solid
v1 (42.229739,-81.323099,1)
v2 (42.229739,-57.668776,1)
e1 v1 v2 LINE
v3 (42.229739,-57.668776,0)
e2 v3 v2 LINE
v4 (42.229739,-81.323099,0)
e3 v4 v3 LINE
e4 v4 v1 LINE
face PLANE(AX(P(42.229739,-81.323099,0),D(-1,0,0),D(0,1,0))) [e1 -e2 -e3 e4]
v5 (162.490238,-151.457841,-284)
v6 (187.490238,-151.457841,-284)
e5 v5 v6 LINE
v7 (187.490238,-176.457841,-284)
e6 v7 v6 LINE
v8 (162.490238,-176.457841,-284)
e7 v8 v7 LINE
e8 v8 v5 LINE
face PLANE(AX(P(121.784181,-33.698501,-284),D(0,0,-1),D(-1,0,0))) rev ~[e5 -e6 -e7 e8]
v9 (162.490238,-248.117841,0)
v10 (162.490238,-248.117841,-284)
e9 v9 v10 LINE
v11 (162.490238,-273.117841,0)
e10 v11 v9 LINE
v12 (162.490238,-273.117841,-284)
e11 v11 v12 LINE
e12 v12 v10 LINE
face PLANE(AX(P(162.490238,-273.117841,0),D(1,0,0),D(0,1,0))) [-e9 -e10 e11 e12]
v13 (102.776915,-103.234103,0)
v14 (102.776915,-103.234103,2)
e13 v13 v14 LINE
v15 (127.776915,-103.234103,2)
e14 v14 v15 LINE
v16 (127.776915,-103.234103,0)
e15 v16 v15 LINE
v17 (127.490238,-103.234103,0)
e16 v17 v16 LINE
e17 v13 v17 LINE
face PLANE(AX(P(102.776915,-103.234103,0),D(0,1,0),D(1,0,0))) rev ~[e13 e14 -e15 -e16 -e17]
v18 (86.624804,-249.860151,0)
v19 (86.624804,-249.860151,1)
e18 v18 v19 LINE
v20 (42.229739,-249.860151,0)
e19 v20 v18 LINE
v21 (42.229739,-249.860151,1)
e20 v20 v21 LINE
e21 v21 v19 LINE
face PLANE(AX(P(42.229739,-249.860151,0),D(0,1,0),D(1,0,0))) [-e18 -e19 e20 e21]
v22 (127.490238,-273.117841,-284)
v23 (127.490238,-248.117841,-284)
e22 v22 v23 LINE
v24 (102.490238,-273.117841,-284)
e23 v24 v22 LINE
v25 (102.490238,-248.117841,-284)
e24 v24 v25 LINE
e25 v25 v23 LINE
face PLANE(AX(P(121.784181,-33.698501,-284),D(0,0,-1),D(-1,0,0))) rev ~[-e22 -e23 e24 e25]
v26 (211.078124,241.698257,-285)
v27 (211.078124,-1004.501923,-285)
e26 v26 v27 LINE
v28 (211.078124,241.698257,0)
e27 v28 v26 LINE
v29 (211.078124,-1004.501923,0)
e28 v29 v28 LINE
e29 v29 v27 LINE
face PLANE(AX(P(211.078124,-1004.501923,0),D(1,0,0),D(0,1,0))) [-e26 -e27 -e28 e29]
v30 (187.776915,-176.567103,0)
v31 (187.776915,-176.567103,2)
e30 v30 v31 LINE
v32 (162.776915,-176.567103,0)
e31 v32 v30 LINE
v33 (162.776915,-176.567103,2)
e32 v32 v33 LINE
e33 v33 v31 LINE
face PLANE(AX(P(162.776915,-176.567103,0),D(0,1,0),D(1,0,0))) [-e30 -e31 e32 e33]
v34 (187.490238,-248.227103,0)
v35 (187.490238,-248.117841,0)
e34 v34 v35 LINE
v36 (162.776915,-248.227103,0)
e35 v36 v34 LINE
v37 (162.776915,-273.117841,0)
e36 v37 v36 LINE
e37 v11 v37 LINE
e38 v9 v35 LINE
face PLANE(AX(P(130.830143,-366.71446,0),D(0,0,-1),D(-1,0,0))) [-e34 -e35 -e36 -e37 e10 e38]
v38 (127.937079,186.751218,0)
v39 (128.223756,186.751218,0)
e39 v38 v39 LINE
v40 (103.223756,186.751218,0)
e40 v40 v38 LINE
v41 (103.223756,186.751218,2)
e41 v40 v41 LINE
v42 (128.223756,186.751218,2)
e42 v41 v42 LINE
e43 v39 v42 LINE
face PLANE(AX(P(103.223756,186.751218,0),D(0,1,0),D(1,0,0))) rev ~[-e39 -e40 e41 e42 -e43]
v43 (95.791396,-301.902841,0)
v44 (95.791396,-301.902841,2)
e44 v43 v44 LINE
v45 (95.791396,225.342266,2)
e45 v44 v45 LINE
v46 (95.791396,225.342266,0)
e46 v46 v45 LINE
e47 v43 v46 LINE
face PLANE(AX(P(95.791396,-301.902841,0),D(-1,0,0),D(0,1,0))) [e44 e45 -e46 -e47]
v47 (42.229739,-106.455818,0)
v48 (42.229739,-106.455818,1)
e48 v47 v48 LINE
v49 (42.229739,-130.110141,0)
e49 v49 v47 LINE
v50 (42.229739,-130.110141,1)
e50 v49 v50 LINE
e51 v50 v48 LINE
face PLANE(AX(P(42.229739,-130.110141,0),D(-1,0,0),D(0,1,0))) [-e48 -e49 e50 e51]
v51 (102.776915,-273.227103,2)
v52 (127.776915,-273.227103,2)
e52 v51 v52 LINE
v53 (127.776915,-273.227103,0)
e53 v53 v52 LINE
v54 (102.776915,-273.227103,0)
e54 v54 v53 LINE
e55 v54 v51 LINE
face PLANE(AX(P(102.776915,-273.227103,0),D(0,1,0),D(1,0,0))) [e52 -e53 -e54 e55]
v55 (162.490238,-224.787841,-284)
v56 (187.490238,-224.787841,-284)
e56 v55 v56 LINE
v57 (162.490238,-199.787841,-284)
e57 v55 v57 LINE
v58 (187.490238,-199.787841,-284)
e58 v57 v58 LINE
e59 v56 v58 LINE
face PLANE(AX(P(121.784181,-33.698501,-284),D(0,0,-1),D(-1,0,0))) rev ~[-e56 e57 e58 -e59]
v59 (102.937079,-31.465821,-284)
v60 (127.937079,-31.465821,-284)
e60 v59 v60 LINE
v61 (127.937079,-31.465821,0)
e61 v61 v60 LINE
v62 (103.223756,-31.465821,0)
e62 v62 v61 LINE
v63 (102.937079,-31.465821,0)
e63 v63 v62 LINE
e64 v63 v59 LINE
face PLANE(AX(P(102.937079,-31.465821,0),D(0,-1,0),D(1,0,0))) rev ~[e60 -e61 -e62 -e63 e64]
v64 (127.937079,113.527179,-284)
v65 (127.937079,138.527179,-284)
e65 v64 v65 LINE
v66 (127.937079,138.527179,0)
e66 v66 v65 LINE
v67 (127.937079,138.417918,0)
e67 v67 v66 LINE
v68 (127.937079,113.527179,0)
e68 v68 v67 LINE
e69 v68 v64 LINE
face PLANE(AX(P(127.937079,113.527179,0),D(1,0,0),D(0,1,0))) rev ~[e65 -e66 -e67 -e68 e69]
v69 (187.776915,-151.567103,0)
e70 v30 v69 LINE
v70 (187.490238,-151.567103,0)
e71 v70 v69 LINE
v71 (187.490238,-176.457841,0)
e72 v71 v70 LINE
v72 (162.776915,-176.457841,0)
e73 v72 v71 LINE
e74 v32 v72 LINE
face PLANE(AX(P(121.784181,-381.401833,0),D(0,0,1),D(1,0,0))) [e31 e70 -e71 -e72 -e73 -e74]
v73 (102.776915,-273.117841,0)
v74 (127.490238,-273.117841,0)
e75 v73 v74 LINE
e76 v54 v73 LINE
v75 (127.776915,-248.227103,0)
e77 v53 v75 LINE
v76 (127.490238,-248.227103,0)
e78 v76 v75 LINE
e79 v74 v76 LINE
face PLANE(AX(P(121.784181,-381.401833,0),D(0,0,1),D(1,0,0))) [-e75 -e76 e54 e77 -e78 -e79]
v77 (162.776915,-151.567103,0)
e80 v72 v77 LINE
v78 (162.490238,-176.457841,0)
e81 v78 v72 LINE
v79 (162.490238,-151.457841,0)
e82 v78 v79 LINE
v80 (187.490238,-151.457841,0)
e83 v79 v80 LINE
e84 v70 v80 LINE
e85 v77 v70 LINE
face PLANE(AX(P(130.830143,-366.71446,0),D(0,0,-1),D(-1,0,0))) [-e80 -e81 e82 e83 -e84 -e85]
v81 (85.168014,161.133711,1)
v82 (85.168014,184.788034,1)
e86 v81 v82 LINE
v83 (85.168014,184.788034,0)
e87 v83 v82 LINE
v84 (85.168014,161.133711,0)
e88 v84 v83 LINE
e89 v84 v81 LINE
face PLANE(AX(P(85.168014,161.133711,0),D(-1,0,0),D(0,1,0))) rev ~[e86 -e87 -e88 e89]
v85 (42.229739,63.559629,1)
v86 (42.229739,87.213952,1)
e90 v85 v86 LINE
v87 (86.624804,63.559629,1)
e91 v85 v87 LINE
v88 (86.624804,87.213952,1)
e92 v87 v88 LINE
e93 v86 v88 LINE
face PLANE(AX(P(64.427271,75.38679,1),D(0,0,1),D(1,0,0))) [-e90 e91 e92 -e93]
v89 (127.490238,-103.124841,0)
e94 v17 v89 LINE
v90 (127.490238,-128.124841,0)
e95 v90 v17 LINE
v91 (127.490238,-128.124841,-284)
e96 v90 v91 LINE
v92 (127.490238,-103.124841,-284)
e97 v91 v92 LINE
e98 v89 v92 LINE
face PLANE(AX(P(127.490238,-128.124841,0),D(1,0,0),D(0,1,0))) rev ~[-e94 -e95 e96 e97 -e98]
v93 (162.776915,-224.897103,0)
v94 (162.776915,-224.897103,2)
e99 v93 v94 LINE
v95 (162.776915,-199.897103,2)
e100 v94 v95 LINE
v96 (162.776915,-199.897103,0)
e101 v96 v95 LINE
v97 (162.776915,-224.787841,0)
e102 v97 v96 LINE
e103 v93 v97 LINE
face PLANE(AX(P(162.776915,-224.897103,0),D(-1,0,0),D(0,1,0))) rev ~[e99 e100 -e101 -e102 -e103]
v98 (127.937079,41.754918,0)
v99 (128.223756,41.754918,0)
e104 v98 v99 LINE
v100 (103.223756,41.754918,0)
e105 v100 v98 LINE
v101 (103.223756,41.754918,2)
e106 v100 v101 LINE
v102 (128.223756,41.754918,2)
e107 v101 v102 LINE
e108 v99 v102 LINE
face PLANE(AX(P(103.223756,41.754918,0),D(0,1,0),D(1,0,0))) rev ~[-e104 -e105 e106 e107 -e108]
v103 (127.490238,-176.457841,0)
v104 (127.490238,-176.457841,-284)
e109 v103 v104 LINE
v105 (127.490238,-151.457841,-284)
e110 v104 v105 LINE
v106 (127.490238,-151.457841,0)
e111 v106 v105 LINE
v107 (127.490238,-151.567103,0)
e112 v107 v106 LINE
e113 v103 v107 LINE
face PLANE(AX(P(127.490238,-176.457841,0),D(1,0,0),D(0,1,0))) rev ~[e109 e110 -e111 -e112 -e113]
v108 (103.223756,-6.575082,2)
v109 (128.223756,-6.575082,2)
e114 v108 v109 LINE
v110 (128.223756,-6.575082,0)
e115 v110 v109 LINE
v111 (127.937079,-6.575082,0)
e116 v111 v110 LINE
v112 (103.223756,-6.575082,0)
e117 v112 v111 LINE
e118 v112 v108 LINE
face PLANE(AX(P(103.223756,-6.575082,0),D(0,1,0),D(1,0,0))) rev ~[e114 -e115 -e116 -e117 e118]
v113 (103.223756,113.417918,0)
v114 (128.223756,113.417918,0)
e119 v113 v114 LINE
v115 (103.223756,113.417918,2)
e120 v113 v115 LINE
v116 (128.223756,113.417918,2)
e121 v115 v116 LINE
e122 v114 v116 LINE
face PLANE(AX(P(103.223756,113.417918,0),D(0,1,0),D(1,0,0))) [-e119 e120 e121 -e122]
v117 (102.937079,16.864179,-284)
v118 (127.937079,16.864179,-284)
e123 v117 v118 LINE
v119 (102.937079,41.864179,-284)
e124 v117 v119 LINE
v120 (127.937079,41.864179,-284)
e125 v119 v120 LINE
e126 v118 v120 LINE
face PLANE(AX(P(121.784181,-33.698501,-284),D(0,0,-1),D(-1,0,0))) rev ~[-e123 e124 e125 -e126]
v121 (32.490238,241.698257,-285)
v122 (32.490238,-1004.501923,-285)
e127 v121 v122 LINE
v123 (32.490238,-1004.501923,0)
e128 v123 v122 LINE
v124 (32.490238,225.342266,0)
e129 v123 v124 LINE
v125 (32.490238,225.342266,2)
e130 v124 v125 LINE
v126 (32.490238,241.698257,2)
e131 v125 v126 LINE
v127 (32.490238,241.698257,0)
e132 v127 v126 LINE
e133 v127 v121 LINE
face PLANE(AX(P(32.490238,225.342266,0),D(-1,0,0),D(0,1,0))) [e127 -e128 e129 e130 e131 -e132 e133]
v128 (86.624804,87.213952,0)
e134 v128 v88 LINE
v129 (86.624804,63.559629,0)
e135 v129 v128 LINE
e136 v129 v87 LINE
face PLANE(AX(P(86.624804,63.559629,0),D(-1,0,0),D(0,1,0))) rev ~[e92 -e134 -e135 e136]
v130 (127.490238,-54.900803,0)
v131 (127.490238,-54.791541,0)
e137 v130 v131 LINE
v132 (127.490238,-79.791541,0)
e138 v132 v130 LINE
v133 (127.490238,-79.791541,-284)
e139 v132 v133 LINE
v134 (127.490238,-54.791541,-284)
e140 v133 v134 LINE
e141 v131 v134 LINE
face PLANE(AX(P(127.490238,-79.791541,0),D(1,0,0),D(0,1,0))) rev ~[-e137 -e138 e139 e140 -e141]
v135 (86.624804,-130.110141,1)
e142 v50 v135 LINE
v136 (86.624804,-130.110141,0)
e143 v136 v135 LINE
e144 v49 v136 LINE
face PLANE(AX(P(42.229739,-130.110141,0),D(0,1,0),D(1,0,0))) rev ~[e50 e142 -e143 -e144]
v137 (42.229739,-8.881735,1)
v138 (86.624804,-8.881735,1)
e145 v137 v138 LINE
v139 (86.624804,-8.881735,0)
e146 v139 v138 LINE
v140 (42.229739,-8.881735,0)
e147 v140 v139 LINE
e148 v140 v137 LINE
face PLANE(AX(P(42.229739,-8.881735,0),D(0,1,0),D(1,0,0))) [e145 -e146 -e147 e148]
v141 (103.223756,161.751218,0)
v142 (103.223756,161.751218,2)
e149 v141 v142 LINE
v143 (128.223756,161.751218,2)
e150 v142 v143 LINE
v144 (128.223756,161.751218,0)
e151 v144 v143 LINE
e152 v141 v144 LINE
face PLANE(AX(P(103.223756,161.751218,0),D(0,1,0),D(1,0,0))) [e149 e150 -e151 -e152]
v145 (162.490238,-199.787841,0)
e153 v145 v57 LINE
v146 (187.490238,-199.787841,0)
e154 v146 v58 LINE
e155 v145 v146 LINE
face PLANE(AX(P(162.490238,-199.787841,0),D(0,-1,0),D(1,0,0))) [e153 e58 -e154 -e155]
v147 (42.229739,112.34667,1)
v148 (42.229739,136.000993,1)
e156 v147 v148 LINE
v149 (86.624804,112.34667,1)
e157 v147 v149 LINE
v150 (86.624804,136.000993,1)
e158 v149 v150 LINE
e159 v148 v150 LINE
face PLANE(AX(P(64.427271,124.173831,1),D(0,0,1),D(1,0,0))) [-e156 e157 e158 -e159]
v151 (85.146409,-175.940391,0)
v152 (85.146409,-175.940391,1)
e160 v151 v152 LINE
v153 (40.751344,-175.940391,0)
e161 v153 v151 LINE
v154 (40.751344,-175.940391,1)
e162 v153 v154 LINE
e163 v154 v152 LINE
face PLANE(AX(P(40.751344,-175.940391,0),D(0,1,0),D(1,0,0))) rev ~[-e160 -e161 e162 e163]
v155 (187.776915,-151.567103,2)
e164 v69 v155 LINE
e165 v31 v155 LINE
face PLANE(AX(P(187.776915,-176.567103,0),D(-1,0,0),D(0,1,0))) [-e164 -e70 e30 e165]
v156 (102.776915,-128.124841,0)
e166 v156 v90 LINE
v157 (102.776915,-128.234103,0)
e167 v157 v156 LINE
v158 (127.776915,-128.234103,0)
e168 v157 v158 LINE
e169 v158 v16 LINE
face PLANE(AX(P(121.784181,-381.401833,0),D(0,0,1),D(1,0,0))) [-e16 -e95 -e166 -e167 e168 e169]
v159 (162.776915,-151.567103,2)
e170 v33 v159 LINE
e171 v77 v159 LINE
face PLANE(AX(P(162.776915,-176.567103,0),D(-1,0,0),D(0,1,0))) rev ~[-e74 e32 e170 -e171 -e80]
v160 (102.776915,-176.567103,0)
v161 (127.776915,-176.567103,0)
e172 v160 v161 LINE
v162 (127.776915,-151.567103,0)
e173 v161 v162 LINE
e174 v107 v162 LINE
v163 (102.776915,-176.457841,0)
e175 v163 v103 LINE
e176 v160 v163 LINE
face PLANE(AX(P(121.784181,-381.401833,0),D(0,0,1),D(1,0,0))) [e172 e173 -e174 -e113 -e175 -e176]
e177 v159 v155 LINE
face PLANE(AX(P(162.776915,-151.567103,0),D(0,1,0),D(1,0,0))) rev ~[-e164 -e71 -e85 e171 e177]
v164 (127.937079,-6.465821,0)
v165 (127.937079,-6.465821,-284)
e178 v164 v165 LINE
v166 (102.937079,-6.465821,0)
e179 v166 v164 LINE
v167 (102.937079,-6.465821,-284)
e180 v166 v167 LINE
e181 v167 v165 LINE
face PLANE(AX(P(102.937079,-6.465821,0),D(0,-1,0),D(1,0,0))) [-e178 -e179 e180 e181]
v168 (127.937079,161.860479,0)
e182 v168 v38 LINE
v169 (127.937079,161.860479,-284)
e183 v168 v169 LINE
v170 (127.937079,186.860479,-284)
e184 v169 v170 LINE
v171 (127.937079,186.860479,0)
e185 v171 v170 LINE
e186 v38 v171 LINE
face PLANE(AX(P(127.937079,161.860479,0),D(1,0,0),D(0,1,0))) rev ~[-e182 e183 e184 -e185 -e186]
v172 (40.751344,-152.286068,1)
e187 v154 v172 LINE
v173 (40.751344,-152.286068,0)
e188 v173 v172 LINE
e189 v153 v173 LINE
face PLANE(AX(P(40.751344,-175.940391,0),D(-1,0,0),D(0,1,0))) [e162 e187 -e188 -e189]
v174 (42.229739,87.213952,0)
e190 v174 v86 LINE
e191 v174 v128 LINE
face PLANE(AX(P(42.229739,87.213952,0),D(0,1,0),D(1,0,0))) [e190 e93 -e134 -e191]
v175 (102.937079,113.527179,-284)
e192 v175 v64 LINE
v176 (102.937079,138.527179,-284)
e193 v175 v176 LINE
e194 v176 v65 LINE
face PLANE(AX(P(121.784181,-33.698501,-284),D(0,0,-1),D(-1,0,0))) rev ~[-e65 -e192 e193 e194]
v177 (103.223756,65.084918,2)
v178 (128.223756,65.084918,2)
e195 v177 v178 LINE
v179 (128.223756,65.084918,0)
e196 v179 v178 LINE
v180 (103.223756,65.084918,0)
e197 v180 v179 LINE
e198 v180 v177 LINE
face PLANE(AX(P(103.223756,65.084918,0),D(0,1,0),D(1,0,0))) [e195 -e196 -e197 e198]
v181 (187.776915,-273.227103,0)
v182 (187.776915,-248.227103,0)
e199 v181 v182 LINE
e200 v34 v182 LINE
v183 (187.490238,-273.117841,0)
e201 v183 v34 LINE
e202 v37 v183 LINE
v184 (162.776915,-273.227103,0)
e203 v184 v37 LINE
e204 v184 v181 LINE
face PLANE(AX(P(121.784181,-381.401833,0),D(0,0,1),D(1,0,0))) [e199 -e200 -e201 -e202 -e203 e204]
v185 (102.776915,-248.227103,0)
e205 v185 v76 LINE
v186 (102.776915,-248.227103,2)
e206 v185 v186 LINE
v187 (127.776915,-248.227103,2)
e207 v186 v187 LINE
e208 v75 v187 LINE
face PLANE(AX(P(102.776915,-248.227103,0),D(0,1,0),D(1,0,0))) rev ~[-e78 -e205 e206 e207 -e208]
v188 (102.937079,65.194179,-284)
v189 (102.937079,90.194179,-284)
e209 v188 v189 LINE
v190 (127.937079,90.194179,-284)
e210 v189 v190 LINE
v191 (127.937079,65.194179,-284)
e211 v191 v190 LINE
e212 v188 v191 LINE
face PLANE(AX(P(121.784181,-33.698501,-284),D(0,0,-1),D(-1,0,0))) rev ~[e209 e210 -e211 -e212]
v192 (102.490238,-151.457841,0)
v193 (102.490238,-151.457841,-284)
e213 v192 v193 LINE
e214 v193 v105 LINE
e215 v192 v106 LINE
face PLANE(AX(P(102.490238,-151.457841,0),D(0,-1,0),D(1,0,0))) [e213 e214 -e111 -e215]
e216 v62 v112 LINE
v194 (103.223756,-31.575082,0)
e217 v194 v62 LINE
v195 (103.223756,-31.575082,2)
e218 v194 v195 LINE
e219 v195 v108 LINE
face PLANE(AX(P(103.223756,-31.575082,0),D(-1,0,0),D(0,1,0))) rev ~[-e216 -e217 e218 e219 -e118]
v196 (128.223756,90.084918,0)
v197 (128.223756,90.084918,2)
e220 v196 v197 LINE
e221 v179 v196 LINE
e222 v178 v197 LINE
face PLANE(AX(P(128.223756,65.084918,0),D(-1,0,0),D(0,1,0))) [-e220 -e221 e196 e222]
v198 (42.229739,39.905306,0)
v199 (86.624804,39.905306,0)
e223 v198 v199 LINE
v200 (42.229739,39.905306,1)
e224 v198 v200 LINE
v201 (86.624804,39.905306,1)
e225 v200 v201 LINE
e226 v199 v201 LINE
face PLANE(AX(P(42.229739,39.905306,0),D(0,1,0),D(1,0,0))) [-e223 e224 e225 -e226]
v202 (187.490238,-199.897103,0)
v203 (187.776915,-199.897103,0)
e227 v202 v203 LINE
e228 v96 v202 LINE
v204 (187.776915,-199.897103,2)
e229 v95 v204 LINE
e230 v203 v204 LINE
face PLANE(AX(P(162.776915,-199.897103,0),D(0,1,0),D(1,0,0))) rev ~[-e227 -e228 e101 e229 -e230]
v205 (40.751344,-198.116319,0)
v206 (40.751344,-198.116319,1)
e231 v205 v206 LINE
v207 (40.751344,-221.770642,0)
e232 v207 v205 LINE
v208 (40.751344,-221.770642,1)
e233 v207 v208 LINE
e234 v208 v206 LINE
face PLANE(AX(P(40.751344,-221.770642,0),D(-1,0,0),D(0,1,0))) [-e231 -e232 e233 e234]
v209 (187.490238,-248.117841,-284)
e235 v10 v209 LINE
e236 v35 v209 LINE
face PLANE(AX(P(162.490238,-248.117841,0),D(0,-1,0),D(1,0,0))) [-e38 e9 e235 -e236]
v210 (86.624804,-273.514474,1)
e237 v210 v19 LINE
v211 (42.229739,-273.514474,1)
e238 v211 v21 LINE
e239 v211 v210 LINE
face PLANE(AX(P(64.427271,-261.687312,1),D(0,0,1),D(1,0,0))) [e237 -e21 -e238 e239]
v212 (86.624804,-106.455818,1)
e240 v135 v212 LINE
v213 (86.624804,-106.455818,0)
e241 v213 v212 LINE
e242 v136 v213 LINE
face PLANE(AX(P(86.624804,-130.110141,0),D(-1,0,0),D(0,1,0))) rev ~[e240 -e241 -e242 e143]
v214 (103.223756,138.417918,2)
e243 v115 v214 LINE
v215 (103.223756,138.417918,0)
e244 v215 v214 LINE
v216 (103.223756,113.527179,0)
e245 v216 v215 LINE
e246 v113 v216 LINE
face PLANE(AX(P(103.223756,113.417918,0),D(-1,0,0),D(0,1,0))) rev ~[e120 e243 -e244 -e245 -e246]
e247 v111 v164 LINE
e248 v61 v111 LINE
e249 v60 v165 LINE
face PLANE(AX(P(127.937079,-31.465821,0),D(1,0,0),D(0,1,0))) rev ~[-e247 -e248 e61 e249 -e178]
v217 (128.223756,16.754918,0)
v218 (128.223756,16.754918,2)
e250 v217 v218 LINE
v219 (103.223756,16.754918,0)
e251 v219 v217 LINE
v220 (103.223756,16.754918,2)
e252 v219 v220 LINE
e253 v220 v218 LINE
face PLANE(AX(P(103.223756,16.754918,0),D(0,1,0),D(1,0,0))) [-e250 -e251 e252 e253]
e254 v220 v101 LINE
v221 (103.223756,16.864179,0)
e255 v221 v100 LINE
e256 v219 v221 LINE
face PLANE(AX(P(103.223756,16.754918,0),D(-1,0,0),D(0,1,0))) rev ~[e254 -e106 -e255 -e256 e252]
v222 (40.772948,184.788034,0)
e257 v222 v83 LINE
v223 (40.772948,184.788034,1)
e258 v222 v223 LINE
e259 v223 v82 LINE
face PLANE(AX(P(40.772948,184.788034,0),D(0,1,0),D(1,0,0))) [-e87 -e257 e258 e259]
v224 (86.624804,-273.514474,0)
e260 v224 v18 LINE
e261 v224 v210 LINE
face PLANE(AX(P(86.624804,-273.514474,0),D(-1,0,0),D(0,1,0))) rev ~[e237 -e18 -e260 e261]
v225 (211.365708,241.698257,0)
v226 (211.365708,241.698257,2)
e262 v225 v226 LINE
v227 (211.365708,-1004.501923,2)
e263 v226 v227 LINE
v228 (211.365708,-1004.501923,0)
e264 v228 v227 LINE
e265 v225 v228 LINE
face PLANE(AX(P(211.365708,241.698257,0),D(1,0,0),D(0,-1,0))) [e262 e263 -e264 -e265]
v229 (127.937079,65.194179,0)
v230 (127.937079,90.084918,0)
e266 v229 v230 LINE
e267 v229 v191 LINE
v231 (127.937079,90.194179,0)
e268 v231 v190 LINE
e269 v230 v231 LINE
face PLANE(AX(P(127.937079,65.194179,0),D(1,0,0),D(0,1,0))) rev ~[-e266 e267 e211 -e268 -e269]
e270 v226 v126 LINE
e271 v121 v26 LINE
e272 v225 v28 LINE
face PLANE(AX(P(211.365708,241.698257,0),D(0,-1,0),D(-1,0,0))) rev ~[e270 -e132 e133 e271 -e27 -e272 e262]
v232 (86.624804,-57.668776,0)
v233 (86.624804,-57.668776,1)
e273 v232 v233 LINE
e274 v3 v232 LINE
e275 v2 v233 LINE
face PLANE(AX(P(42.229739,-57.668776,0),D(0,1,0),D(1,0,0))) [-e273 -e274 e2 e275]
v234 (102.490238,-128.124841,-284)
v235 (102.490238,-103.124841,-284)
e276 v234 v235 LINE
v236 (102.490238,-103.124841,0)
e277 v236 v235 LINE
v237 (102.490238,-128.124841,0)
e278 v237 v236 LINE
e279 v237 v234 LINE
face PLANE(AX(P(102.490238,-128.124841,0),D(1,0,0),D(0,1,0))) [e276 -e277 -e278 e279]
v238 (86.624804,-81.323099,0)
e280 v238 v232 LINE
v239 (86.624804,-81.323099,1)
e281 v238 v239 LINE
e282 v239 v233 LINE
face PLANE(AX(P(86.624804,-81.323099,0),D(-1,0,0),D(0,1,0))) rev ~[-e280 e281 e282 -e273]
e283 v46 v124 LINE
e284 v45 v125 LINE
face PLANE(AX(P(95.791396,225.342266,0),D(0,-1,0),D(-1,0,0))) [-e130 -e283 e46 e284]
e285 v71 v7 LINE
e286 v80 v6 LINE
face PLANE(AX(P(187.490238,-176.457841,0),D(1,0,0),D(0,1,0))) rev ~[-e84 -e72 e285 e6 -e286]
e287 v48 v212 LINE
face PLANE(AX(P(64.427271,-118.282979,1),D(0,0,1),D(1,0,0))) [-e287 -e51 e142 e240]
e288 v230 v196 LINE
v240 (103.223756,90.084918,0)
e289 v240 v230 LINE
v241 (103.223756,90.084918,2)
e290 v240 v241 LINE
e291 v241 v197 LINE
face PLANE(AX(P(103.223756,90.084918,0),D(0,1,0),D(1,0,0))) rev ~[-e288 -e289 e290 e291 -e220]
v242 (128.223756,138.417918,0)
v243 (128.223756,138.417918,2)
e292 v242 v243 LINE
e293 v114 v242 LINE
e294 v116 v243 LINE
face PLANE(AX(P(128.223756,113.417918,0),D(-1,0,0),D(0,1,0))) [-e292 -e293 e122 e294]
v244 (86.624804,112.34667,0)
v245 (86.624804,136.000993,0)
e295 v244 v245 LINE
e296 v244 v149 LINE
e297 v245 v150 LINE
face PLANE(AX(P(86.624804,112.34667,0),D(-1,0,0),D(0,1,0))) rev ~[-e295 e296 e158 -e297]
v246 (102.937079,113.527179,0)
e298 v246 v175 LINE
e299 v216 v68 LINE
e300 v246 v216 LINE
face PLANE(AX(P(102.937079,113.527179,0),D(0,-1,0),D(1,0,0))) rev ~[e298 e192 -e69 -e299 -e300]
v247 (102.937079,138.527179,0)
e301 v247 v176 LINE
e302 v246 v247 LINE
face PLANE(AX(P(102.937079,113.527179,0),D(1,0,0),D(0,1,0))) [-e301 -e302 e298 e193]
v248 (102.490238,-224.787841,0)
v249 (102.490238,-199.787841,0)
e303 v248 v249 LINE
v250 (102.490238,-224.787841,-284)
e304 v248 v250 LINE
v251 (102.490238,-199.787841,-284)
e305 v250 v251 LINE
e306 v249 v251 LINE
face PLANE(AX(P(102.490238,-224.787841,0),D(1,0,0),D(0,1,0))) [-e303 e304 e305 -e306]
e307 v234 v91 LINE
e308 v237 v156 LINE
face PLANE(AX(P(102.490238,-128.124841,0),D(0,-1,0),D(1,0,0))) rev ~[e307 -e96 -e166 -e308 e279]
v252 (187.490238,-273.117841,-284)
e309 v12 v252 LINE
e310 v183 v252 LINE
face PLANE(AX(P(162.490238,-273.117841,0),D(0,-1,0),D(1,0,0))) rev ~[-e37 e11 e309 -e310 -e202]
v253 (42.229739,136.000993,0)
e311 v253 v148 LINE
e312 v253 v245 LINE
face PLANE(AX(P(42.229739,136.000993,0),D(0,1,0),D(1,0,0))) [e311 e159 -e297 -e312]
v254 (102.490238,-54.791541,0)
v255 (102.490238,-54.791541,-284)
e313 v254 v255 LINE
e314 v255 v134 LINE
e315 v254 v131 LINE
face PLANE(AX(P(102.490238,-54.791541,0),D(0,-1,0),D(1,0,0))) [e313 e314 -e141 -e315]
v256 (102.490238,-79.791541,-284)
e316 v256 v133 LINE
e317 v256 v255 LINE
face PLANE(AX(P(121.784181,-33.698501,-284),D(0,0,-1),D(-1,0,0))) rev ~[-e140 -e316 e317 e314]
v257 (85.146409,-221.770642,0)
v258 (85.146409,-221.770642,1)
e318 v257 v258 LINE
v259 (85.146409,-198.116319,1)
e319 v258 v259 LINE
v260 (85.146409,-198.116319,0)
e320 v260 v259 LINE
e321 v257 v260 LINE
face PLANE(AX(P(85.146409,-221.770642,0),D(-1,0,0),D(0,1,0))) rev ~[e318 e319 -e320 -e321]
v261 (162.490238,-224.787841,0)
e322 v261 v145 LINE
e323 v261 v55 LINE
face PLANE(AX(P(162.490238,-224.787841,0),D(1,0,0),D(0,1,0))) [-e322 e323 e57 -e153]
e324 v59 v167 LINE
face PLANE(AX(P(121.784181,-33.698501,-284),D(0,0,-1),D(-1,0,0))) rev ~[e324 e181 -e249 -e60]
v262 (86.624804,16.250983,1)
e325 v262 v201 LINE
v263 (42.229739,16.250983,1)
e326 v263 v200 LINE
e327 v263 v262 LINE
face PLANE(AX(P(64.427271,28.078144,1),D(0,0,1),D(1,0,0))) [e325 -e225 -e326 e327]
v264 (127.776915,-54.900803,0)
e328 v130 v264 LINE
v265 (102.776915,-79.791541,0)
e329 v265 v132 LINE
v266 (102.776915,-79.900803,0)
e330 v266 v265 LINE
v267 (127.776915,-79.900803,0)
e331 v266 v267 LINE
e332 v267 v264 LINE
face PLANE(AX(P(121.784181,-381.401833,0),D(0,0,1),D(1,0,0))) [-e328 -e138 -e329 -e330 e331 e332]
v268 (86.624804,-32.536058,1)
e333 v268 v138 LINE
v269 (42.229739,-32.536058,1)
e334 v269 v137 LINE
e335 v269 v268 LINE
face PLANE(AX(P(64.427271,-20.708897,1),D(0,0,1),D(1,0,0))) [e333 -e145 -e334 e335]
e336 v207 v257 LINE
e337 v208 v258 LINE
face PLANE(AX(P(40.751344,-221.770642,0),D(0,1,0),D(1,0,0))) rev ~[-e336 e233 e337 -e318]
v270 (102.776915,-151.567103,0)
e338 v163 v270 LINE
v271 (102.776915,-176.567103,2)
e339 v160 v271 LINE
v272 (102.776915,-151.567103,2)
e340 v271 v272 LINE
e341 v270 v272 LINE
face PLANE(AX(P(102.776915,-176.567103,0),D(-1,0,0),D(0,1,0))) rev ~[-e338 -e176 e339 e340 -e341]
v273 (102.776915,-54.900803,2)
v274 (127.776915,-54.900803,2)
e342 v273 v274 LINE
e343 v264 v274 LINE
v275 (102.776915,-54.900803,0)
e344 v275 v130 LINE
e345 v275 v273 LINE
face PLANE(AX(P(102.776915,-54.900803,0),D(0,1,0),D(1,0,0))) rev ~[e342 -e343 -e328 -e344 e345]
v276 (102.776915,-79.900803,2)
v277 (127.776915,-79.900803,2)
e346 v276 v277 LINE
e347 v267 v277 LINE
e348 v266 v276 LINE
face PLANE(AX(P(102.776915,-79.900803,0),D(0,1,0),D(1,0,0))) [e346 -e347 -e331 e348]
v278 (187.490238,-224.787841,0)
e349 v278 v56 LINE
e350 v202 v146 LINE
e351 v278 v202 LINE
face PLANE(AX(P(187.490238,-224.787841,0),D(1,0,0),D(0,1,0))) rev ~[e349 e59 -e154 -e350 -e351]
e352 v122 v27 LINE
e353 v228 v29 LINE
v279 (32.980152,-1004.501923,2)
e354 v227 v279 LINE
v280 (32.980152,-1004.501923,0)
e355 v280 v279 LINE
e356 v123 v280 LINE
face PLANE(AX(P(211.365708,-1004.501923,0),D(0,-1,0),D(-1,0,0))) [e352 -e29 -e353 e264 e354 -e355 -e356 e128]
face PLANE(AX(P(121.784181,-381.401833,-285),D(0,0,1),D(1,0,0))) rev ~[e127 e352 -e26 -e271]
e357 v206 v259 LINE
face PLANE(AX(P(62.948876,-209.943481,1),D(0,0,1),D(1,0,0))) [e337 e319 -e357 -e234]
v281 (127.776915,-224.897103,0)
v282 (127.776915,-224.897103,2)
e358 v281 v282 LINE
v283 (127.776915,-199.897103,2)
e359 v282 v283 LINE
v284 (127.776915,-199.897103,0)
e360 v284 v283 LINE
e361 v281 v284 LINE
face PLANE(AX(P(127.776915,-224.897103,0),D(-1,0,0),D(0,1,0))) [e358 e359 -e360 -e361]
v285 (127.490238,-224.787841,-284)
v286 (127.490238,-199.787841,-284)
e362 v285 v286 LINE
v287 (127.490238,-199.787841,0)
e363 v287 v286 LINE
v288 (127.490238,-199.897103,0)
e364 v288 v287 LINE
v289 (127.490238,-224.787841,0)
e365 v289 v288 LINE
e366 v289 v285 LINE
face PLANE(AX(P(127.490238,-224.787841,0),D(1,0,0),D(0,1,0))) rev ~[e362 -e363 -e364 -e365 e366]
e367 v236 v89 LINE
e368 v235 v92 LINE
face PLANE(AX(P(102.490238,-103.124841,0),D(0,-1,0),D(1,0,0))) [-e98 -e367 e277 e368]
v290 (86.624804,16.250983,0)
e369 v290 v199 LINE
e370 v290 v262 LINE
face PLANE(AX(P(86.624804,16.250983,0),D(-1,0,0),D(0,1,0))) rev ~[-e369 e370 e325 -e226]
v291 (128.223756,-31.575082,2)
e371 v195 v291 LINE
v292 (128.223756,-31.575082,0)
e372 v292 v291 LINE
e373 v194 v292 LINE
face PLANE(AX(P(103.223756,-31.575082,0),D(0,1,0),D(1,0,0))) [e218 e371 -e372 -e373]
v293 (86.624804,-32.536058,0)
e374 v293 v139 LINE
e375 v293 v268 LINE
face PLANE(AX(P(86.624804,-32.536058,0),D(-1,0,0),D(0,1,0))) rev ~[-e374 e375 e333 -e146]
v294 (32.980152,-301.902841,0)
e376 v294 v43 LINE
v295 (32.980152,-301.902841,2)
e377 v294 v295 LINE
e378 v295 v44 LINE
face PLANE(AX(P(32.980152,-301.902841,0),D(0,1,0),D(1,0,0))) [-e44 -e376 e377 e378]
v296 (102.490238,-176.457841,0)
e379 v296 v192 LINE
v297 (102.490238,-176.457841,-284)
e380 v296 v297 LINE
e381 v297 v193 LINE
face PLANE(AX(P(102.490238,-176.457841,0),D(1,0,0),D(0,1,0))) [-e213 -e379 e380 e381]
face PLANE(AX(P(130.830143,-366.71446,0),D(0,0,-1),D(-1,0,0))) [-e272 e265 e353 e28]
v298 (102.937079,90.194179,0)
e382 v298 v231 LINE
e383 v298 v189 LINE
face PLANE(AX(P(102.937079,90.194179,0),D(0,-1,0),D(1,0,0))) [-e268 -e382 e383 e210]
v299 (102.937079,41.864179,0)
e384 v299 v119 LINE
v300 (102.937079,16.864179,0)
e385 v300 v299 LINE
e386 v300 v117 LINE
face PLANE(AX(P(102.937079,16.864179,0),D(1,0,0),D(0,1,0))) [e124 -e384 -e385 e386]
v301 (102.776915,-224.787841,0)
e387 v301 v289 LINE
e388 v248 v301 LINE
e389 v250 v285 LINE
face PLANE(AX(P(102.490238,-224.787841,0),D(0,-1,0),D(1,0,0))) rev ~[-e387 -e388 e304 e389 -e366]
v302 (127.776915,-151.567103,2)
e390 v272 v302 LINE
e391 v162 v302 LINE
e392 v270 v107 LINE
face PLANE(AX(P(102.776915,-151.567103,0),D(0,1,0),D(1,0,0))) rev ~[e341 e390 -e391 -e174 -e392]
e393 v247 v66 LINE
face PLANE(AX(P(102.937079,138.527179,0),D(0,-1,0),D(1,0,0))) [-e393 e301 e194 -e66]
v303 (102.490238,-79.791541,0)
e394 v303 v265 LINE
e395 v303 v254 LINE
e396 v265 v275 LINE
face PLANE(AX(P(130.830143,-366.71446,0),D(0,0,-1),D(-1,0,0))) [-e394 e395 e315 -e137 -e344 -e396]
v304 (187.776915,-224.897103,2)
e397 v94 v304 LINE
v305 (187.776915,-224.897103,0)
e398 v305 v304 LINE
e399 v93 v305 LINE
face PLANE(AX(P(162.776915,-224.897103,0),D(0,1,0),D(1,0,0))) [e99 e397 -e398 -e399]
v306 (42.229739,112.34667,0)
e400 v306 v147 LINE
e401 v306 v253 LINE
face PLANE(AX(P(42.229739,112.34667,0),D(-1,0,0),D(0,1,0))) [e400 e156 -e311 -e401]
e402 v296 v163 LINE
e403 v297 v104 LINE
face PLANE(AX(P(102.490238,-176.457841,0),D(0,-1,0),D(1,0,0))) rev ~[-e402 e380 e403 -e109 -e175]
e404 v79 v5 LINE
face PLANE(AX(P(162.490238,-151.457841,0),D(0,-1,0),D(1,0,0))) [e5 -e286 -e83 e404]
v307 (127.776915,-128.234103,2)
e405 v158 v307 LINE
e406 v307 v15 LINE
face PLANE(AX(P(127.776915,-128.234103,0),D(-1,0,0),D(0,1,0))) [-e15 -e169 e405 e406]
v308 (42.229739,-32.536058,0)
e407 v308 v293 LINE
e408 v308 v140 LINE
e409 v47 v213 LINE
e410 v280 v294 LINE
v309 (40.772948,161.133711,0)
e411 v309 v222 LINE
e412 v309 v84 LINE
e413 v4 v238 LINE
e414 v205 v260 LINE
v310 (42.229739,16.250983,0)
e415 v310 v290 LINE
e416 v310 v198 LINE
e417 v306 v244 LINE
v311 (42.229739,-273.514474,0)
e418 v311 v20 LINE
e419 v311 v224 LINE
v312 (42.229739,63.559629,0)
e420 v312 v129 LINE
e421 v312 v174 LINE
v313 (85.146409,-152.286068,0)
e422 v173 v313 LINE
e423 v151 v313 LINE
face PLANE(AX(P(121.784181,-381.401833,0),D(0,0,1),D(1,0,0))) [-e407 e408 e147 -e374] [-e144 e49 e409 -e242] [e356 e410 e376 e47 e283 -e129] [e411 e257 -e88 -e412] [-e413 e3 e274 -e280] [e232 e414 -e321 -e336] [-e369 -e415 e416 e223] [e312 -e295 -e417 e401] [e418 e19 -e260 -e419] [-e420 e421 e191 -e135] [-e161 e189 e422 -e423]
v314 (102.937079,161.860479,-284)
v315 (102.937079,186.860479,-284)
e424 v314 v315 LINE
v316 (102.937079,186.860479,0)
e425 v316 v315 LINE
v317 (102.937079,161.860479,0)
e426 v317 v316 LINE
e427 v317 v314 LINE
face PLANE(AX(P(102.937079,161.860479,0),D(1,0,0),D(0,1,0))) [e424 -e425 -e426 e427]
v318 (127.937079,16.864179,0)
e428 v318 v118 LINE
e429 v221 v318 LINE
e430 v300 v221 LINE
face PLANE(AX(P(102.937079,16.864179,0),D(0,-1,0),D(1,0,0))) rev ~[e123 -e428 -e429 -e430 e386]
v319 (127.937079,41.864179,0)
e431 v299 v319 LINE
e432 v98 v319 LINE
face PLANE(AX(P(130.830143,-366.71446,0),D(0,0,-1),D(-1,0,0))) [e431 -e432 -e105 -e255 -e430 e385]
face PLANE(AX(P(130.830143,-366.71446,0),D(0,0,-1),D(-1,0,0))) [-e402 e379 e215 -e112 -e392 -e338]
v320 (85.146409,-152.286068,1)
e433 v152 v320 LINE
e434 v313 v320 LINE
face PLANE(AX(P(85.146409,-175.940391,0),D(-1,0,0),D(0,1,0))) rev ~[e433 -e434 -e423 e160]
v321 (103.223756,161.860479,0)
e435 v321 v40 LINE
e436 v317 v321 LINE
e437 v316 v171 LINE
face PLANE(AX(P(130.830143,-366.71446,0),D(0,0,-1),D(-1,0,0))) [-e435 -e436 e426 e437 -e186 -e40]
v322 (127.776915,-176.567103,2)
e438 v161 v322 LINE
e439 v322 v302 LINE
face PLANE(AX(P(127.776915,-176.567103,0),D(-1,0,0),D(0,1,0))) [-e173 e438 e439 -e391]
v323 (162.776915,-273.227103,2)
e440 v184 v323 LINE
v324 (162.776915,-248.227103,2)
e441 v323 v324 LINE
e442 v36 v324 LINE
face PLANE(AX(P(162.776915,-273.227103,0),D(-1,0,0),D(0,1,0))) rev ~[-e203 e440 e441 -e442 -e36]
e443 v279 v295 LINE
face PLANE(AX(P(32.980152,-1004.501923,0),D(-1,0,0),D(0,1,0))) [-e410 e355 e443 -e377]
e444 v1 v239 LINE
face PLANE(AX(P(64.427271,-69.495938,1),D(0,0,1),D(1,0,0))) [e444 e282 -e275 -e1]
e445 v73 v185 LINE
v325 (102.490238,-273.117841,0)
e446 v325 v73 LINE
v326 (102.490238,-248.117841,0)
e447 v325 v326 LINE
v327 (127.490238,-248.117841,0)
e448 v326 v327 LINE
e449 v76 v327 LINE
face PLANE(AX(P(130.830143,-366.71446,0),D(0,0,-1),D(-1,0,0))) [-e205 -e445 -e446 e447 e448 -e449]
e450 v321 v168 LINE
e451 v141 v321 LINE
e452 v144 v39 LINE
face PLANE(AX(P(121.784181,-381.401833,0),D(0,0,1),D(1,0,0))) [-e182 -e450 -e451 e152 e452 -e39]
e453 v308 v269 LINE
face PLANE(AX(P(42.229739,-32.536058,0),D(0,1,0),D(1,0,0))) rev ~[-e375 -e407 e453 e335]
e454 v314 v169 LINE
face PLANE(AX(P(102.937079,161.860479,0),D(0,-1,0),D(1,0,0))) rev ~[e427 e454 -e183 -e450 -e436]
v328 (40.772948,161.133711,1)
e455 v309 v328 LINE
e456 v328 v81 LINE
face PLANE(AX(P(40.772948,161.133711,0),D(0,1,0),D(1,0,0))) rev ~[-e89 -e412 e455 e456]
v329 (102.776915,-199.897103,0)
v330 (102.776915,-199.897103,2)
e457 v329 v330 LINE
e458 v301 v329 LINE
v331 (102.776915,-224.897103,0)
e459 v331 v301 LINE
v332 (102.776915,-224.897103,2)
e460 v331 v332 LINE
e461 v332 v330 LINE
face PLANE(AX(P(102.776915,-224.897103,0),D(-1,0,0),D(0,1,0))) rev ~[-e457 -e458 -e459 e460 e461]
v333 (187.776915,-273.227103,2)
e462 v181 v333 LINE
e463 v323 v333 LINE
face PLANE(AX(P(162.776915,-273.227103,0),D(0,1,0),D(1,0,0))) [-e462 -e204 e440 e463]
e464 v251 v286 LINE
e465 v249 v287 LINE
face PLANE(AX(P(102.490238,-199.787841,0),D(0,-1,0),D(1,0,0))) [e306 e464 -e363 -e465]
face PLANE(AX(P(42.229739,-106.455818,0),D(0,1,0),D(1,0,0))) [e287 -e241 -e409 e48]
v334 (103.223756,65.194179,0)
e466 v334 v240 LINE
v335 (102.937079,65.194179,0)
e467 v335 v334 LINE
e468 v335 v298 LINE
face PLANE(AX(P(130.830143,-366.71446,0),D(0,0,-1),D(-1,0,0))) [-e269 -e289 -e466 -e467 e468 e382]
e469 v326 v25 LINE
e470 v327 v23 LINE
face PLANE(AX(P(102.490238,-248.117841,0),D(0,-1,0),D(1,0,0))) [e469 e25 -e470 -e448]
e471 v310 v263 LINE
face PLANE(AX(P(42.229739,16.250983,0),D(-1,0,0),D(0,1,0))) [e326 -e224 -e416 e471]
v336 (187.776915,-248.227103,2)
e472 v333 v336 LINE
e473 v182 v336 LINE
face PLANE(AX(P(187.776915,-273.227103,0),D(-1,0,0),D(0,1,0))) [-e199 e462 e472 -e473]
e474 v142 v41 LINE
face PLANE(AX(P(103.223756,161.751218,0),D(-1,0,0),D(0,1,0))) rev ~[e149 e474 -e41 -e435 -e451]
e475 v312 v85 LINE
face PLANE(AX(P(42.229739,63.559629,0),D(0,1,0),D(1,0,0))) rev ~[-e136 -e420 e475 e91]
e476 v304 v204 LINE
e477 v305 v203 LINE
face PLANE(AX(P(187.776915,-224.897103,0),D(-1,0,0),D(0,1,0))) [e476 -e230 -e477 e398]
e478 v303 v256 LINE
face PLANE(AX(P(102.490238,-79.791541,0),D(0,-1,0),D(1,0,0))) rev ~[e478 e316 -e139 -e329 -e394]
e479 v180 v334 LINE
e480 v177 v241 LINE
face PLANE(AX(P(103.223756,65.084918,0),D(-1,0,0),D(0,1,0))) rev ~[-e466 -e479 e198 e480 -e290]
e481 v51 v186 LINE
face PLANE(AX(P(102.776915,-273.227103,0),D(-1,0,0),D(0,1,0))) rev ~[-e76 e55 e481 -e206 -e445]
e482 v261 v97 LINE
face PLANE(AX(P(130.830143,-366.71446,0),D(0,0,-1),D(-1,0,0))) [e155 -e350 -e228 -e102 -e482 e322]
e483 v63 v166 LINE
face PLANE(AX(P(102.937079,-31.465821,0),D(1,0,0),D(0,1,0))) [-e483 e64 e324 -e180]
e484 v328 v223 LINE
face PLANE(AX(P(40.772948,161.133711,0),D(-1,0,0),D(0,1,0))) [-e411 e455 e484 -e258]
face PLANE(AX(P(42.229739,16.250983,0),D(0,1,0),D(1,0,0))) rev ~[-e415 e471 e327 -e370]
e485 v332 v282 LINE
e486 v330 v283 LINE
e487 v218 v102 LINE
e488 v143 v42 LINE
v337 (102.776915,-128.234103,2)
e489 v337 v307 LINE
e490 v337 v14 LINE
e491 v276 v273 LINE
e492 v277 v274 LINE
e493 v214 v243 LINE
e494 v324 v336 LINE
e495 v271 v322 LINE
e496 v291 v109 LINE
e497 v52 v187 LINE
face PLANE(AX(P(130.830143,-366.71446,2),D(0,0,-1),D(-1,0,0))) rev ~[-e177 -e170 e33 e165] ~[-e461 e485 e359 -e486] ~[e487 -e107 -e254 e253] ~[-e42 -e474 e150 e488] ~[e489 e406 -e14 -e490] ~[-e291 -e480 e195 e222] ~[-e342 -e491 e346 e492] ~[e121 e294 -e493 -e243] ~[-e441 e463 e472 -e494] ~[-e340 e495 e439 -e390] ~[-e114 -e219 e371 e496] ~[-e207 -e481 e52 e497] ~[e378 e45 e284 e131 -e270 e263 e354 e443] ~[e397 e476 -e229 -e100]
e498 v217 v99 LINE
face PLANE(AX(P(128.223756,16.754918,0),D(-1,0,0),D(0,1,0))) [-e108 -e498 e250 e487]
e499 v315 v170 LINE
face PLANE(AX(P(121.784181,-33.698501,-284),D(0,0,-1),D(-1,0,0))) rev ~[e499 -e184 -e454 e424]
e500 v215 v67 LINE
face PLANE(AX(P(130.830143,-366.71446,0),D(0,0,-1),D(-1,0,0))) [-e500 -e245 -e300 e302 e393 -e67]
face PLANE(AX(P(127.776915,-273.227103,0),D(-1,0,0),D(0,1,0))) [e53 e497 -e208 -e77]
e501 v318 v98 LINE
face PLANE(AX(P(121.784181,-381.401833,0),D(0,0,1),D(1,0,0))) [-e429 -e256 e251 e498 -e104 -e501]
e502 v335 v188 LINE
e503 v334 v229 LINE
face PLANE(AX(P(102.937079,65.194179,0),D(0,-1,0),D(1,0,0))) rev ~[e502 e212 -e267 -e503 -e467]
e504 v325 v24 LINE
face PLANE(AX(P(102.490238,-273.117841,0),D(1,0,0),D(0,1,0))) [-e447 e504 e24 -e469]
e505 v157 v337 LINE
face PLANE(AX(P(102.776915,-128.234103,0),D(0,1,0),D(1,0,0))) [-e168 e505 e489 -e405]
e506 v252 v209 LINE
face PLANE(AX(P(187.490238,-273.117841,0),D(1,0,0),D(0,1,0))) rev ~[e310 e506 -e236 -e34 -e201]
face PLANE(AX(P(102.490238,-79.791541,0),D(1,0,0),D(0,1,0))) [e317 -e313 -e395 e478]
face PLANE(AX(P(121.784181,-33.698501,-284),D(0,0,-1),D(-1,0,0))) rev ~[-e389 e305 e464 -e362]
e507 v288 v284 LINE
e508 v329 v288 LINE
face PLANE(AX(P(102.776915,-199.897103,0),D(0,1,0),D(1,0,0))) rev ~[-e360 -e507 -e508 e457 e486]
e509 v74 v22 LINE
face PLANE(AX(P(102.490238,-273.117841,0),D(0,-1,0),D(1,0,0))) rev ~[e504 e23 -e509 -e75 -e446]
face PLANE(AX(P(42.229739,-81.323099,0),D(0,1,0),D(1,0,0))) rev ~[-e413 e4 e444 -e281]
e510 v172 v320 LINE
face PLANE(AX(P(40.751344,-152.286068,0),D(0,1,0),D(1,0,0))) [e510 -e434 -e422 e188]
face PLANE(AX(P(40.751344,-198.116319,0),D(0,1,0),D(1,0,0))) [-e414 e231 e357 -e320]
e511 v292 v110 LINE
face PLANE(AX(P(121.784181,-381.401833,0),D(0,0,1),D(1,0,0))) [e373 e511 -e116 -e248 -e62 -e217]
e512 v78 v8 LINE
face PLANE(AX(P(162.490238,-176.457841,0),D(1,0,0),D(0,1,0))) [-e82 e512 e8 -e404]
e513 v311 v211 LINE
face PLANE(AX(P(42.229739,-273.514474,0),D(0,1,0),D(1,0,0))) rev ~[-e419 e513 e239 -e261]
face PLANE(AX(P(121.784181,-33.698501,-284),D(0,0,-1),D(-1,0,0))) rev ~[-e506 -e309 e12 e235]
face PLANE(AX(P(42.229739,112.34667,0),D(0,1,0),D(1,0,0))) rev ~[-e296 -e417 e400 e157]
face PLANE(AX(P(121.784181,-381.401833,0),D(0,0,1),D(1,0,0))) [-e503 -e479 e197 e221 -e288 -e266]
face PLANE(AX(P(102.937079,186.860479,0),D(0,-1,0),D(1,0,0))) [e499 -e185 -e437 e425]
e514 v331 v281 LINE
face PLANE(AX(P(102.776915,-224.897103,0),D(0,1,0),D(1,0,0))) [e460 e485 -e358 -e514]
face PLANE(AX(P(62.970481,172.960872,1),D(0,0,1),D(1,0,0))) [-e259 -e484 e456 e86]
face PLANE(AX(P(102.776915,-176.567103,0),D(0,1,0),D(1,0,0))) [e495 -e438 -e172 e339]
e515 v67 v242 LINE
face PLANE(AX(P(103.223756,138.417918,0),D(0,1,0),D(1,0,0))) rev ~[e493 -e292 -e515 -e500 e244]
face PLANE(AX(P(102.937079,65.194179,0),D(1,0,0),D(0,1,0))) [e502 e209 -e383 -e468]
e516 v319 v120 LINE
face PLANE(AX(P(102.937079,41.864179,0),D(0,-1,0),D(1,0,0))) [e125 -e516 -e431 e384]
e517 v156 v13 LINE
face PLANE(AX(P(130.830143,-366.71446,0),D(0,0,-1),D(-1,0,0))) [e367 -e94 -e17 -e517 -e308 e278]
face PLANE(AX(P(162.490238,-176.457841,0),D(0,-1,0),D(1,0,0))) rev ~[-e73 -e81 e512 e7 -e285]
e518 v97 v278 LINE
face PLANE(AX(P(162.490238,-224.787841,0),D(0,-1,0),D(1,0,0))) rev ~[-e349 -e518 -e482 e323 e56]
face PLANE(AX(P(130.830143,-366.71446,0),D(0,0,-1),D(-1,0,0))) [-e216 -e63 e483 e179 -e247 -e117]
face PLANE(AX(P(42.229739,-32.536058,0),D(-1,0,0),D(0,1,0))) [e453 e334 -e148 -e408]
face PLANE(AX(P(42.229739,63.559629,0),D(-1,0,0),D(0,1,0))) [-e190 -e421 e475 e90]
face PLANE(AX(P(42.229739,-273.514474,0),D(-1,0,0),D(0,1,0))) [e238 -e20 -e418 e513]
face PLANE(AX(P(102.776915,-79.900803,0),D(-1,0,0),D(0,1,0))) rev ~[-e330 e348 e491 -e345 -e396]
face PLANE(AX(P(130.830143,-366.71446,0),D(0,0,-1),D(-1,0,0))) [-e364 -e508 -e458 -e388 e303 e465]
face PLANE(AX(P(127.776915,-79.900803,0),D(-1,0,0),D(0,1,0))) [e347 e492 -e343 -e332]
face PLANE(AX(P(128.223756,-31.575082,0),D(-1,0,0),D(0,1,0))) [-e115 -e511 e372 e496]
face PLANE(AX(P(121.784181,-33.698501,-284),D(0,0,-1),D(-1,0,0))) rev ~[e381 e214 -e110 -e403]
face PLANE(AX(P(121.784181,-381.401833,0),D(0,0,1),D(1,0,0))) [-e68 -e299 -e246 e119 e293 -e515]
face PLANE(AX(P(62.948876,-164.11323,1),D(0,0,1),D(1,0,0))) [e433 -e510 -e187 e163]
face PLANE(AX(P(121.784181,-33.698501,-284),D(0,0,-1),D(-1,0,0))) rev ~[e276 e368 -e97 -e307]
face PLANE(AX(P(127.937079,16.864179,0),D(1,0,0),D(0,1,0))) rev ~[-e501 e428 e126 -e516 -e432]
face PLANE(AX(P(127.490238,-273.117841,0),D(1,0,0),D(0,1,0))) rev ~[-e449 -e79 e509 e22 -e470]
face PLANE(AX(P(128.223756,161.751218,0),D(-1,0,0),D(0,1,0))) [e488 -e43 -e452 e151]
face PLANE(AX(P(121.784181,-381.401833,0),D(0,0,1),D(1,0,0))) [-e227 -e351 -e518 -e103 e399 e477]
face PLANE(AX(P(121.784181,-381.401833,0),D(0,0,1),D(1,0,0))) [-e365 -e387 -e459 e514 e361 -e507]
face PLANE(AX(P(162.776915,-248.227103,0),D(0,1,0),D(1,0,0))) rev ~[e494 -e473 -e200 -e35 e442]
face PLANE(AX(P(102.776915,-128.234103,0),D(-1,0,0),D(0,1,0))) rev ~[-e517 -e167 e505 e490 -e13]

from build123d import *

# Parameters (mm, degrees)
CROQUIS1_W              = 178.587886288
CROQUIS1_H              = 1246.200179681
CROQUIS1_W_2            = 25
CROQUIS1_H_2            = 25
SALIENTE_EXTRUIR2_DEPTH = 285
CROQUIS2_W              = 178.587886288
CROQUIS2_H              = 550.793515283
SALIENTE_EXTRUIR3_DEPTH = 1
CROQUIS5_W              = 25
CROQUIS5_H              = 25
SALIENTE_EXTRUIR4_DEPTH = 2
CROQUIS10_W             = 44.39506519
CROQUIS10_H             = 23.654322963
CROQUIS10_H_2           = 23.654322964
SALIENTE_EXTRUIR5_DEPTH = 1


with BuildPart() as part:
    # Croquis1 → Saliente-Extruir2 (new body)
    with BuildSketch(Plane.XY):
        with Locations((121.784181129, -381.401832721)):
            Rectangle(CROQUIS1_W, CROQUIS1_H)
        with Locations((115.437079382, 174.360479256)):
            Rectangle(CROQUIS1_W_2, CROQUIS1_H_2, mode=Mode.SUBTRACT)
        with Locations((174.990237985, -163.957841157)):
            Rectangle(CROQUIS1_W_2, CROQUIS1_H_2, mode=Mode.SUBTRACT)
        with Locations((115.437079382, 126.027179256)):
            Rectangle(CROQUIS1_W_2, CROQUIS1_H_2, mode=Mode.SUBTRACT)
        with Locations((115.437079382, 77.694179256)):
            Rectangle(CROQUIS1_W_2, CROQUIS1_H_2, mode=Mode.SUBTRACT)
        with Locations((115.437079382, 29.364179256)):
            Rectangle(CROQUIS1_W_2, CROQUIS1_H_2, mode=Mode.SUBTRACT)
        with Locations((115.437079382, -18.965820744)):
            Rectangle(CROQUIS1_W_2, CROQUIS1_H_2, mode=Mode.SUBTRACT)
        with Locations((114.990237985, -67.291541157)):
            Rectangle(CROQUIS1_W_2, CROQUIS1_H_2, mode=Mode.SUBTRACT)
        with Locations((114.990237985, -115.624841157)):
            Rectangle(CROQUIS1_W_2, CROQUIS1_H_2, mode=Mode.SUBTRACT)
        with Locations((114.990237985, -163.957841157)):
            Rectangle(CROQUIS1_W_2, CROQUIS1_H_2, mode=Mode.SUBTRACT)
        with Locations((114.990237985, -212.287841157)):
            Rectangle(CROQUIS1_W_2, CROQUIS1_H_2, mode=Mode.SUBTRACT)
        with Locations((114.990237985, -260.617841157)):
            Rectangle(CROQUIS1_W_2, CROQUIS1_H_2, mode=Mode.SUBTRACT)
        with Locations((174.990237985, -212.287841157)):
            Rectangle(CROQUIS1_W_2, CROQUIS1_H_2, mode=Mode.SUBTRACT)
        with Locations((174.990237985, -260.617841157)):
            Rectangle(CROQUIS1_W_2, CROQUIS1_H_2, mode=Mode.SUBTRACT)
    extrude(amount=-SALIENTE_EXTRUIR2_DEPTH)

    # Croquis2 → Saliente-Extruir3 (add)
    with BuildSketch(Plane(origin=(0, 0, -285), x_dir=(-1, 0, 0), z_dir=(0, 0, -1))):
        with Locations((-121.784181129, -33.698500522)):
            Rectangle(CROQUIS2_W, CROQUIS2_H)
    extrude(amount=-SALIENTE_EXTRUIR3_DEPTH)

    # Croquis5 → Saliente-Extruir4 (add)
    with BuildSketch(Plane.XY):
        Polygon((40.133927115, 241.69825712), (187.776914698, 241.69825712), (211.365707843, 241.69825712), (211.365707843, -1004.501922561), (32.980151612, -1004.501922561), (32.980151612, -301.90284108), (95.791395616, -301.90284108), (95.791395616, 225.342265798), (32.490237985, 225.342265798), (32.490237985, 241.69825712), align=None)
        with Locations((115.723756094, 174.251217897)):
            Rectangle(CROQUIS5_W, CROQUIS5_H, mode=Mode.SUBTRACT)
        with Locations((175.276914698, -164.067102515)):
            Rectangle(CROQUIS5_W, CROQUIS5_H, mode=Mode.SUBTRACT)
        with Locations((115.723756094, 125.917917897)):
            Rectangle(CROQUIS5_W, CROQUIS5_H, mode=Mode.SUBTRACT)
        with Locations((115.723756094, 77.584917897)):
            Rectangle(CROQUIS5_W, CROQUIS5_H, mode=Mode.SUBTRACT)
        with Locations((115.723756094, 29.254917897)):
            Rectangle(CROQUIS5_W, CROQUIS5_H, mode=Mode.SUBTRACT)
        with Locations((115.723756094, -19.075082103)):
            Rectangle(CROQUIS5_W, CROQUIS5_H, mode=Mode.SUBTRACT)
        with Locations((115.276914698, -67.400802515)):
            Rectangle(CROQUIS5_W, CROQUIS5_H, mode=Mode.SUBTRACT)
        with Locations((115.276914698, -115.734102515)):
            Rectangle(CROQUIS5_W, CROQUIS5_H, mode=Mode.SUBTRACT)
        with Locations((115.276914698, -164.067102515)):
            Rectangle(CROQUIS5_W, CROQUIS5_H, mode=Mode.SUBTRACT)
        with Locations((115.276914698, -212.397102515)):
            Rectangle(CROQUIS5_W, CROQUIS5_H, mode=Mode.SUBTRACT)
        with Locations((115.276914698, -260.727102515)):
            Rectangle(CROQUIS5_W, CROQUIS5_H, mode=Mode.SUBTRACT)
        with Locations((175.276914698, -212.397102515)):
            Rectangle(CROQUIS5_W, CROQUIS5_H, mode=Mode.SUBTRACT)
        with Locations((175.276914698, -260.727102515)):
            Rectangle(CROQUIS5_W, CROQUIS5_H, mode=Mode.SUBTRACT)
    extrude(amount=SALIENTE_EXTRUIR4_DEPTH)

    # Croquis10 → Saliente-Extruir5 (add)
    with BuildSketch(Plane.XY):
        with Locations((62.970480914, 172.960872416)):
            Rectangle(CROQUIS10_W, CROQUIS10_H)
        with Locations((64.427271282, 75.386790193)):
            Rectangle(CROQUIS10_W, CROQUIS10_H_2)
        with Locations((64.427271282, -20.708896845)):
            Rectangle(CROQUIS10_W, CROQUIS10_H)
        with Locations((64.427271282, -69.495937956)):
            Rectangle(CROQUIS10_W, CROQUIS10_H)
        with Locations((64.427271282, -118.282979068)):
            Rectangle(CROQUIS10_W, CROQUIS10_H)
        with Locations((62.948876097, -164.113229809)):
            Rectangle(CROQUIS10_W, CROQUIS10_H)
        with Locations((62.948876097, -209.94348055)):
            Rectangle(CROQUIS10_W, CROQUIS10_H)
        with Locations((64.427271282, 28.078144267)):
            Rectangle(CROQUIS10_W, CROQUIS10_H)
        with Locations((64.427271282, 124.173831305)):
            Rectangle(CROQUIS10_W, CROQUIS10_H)
        with Locations((64.427271282, -261.687312031)):
            Rectangle(CROQUIS10_W, CROQUIS10_H_2)
    extrude(amount=SALIENTE_EXTRUIR5_DEPTH)


solid = part.part
